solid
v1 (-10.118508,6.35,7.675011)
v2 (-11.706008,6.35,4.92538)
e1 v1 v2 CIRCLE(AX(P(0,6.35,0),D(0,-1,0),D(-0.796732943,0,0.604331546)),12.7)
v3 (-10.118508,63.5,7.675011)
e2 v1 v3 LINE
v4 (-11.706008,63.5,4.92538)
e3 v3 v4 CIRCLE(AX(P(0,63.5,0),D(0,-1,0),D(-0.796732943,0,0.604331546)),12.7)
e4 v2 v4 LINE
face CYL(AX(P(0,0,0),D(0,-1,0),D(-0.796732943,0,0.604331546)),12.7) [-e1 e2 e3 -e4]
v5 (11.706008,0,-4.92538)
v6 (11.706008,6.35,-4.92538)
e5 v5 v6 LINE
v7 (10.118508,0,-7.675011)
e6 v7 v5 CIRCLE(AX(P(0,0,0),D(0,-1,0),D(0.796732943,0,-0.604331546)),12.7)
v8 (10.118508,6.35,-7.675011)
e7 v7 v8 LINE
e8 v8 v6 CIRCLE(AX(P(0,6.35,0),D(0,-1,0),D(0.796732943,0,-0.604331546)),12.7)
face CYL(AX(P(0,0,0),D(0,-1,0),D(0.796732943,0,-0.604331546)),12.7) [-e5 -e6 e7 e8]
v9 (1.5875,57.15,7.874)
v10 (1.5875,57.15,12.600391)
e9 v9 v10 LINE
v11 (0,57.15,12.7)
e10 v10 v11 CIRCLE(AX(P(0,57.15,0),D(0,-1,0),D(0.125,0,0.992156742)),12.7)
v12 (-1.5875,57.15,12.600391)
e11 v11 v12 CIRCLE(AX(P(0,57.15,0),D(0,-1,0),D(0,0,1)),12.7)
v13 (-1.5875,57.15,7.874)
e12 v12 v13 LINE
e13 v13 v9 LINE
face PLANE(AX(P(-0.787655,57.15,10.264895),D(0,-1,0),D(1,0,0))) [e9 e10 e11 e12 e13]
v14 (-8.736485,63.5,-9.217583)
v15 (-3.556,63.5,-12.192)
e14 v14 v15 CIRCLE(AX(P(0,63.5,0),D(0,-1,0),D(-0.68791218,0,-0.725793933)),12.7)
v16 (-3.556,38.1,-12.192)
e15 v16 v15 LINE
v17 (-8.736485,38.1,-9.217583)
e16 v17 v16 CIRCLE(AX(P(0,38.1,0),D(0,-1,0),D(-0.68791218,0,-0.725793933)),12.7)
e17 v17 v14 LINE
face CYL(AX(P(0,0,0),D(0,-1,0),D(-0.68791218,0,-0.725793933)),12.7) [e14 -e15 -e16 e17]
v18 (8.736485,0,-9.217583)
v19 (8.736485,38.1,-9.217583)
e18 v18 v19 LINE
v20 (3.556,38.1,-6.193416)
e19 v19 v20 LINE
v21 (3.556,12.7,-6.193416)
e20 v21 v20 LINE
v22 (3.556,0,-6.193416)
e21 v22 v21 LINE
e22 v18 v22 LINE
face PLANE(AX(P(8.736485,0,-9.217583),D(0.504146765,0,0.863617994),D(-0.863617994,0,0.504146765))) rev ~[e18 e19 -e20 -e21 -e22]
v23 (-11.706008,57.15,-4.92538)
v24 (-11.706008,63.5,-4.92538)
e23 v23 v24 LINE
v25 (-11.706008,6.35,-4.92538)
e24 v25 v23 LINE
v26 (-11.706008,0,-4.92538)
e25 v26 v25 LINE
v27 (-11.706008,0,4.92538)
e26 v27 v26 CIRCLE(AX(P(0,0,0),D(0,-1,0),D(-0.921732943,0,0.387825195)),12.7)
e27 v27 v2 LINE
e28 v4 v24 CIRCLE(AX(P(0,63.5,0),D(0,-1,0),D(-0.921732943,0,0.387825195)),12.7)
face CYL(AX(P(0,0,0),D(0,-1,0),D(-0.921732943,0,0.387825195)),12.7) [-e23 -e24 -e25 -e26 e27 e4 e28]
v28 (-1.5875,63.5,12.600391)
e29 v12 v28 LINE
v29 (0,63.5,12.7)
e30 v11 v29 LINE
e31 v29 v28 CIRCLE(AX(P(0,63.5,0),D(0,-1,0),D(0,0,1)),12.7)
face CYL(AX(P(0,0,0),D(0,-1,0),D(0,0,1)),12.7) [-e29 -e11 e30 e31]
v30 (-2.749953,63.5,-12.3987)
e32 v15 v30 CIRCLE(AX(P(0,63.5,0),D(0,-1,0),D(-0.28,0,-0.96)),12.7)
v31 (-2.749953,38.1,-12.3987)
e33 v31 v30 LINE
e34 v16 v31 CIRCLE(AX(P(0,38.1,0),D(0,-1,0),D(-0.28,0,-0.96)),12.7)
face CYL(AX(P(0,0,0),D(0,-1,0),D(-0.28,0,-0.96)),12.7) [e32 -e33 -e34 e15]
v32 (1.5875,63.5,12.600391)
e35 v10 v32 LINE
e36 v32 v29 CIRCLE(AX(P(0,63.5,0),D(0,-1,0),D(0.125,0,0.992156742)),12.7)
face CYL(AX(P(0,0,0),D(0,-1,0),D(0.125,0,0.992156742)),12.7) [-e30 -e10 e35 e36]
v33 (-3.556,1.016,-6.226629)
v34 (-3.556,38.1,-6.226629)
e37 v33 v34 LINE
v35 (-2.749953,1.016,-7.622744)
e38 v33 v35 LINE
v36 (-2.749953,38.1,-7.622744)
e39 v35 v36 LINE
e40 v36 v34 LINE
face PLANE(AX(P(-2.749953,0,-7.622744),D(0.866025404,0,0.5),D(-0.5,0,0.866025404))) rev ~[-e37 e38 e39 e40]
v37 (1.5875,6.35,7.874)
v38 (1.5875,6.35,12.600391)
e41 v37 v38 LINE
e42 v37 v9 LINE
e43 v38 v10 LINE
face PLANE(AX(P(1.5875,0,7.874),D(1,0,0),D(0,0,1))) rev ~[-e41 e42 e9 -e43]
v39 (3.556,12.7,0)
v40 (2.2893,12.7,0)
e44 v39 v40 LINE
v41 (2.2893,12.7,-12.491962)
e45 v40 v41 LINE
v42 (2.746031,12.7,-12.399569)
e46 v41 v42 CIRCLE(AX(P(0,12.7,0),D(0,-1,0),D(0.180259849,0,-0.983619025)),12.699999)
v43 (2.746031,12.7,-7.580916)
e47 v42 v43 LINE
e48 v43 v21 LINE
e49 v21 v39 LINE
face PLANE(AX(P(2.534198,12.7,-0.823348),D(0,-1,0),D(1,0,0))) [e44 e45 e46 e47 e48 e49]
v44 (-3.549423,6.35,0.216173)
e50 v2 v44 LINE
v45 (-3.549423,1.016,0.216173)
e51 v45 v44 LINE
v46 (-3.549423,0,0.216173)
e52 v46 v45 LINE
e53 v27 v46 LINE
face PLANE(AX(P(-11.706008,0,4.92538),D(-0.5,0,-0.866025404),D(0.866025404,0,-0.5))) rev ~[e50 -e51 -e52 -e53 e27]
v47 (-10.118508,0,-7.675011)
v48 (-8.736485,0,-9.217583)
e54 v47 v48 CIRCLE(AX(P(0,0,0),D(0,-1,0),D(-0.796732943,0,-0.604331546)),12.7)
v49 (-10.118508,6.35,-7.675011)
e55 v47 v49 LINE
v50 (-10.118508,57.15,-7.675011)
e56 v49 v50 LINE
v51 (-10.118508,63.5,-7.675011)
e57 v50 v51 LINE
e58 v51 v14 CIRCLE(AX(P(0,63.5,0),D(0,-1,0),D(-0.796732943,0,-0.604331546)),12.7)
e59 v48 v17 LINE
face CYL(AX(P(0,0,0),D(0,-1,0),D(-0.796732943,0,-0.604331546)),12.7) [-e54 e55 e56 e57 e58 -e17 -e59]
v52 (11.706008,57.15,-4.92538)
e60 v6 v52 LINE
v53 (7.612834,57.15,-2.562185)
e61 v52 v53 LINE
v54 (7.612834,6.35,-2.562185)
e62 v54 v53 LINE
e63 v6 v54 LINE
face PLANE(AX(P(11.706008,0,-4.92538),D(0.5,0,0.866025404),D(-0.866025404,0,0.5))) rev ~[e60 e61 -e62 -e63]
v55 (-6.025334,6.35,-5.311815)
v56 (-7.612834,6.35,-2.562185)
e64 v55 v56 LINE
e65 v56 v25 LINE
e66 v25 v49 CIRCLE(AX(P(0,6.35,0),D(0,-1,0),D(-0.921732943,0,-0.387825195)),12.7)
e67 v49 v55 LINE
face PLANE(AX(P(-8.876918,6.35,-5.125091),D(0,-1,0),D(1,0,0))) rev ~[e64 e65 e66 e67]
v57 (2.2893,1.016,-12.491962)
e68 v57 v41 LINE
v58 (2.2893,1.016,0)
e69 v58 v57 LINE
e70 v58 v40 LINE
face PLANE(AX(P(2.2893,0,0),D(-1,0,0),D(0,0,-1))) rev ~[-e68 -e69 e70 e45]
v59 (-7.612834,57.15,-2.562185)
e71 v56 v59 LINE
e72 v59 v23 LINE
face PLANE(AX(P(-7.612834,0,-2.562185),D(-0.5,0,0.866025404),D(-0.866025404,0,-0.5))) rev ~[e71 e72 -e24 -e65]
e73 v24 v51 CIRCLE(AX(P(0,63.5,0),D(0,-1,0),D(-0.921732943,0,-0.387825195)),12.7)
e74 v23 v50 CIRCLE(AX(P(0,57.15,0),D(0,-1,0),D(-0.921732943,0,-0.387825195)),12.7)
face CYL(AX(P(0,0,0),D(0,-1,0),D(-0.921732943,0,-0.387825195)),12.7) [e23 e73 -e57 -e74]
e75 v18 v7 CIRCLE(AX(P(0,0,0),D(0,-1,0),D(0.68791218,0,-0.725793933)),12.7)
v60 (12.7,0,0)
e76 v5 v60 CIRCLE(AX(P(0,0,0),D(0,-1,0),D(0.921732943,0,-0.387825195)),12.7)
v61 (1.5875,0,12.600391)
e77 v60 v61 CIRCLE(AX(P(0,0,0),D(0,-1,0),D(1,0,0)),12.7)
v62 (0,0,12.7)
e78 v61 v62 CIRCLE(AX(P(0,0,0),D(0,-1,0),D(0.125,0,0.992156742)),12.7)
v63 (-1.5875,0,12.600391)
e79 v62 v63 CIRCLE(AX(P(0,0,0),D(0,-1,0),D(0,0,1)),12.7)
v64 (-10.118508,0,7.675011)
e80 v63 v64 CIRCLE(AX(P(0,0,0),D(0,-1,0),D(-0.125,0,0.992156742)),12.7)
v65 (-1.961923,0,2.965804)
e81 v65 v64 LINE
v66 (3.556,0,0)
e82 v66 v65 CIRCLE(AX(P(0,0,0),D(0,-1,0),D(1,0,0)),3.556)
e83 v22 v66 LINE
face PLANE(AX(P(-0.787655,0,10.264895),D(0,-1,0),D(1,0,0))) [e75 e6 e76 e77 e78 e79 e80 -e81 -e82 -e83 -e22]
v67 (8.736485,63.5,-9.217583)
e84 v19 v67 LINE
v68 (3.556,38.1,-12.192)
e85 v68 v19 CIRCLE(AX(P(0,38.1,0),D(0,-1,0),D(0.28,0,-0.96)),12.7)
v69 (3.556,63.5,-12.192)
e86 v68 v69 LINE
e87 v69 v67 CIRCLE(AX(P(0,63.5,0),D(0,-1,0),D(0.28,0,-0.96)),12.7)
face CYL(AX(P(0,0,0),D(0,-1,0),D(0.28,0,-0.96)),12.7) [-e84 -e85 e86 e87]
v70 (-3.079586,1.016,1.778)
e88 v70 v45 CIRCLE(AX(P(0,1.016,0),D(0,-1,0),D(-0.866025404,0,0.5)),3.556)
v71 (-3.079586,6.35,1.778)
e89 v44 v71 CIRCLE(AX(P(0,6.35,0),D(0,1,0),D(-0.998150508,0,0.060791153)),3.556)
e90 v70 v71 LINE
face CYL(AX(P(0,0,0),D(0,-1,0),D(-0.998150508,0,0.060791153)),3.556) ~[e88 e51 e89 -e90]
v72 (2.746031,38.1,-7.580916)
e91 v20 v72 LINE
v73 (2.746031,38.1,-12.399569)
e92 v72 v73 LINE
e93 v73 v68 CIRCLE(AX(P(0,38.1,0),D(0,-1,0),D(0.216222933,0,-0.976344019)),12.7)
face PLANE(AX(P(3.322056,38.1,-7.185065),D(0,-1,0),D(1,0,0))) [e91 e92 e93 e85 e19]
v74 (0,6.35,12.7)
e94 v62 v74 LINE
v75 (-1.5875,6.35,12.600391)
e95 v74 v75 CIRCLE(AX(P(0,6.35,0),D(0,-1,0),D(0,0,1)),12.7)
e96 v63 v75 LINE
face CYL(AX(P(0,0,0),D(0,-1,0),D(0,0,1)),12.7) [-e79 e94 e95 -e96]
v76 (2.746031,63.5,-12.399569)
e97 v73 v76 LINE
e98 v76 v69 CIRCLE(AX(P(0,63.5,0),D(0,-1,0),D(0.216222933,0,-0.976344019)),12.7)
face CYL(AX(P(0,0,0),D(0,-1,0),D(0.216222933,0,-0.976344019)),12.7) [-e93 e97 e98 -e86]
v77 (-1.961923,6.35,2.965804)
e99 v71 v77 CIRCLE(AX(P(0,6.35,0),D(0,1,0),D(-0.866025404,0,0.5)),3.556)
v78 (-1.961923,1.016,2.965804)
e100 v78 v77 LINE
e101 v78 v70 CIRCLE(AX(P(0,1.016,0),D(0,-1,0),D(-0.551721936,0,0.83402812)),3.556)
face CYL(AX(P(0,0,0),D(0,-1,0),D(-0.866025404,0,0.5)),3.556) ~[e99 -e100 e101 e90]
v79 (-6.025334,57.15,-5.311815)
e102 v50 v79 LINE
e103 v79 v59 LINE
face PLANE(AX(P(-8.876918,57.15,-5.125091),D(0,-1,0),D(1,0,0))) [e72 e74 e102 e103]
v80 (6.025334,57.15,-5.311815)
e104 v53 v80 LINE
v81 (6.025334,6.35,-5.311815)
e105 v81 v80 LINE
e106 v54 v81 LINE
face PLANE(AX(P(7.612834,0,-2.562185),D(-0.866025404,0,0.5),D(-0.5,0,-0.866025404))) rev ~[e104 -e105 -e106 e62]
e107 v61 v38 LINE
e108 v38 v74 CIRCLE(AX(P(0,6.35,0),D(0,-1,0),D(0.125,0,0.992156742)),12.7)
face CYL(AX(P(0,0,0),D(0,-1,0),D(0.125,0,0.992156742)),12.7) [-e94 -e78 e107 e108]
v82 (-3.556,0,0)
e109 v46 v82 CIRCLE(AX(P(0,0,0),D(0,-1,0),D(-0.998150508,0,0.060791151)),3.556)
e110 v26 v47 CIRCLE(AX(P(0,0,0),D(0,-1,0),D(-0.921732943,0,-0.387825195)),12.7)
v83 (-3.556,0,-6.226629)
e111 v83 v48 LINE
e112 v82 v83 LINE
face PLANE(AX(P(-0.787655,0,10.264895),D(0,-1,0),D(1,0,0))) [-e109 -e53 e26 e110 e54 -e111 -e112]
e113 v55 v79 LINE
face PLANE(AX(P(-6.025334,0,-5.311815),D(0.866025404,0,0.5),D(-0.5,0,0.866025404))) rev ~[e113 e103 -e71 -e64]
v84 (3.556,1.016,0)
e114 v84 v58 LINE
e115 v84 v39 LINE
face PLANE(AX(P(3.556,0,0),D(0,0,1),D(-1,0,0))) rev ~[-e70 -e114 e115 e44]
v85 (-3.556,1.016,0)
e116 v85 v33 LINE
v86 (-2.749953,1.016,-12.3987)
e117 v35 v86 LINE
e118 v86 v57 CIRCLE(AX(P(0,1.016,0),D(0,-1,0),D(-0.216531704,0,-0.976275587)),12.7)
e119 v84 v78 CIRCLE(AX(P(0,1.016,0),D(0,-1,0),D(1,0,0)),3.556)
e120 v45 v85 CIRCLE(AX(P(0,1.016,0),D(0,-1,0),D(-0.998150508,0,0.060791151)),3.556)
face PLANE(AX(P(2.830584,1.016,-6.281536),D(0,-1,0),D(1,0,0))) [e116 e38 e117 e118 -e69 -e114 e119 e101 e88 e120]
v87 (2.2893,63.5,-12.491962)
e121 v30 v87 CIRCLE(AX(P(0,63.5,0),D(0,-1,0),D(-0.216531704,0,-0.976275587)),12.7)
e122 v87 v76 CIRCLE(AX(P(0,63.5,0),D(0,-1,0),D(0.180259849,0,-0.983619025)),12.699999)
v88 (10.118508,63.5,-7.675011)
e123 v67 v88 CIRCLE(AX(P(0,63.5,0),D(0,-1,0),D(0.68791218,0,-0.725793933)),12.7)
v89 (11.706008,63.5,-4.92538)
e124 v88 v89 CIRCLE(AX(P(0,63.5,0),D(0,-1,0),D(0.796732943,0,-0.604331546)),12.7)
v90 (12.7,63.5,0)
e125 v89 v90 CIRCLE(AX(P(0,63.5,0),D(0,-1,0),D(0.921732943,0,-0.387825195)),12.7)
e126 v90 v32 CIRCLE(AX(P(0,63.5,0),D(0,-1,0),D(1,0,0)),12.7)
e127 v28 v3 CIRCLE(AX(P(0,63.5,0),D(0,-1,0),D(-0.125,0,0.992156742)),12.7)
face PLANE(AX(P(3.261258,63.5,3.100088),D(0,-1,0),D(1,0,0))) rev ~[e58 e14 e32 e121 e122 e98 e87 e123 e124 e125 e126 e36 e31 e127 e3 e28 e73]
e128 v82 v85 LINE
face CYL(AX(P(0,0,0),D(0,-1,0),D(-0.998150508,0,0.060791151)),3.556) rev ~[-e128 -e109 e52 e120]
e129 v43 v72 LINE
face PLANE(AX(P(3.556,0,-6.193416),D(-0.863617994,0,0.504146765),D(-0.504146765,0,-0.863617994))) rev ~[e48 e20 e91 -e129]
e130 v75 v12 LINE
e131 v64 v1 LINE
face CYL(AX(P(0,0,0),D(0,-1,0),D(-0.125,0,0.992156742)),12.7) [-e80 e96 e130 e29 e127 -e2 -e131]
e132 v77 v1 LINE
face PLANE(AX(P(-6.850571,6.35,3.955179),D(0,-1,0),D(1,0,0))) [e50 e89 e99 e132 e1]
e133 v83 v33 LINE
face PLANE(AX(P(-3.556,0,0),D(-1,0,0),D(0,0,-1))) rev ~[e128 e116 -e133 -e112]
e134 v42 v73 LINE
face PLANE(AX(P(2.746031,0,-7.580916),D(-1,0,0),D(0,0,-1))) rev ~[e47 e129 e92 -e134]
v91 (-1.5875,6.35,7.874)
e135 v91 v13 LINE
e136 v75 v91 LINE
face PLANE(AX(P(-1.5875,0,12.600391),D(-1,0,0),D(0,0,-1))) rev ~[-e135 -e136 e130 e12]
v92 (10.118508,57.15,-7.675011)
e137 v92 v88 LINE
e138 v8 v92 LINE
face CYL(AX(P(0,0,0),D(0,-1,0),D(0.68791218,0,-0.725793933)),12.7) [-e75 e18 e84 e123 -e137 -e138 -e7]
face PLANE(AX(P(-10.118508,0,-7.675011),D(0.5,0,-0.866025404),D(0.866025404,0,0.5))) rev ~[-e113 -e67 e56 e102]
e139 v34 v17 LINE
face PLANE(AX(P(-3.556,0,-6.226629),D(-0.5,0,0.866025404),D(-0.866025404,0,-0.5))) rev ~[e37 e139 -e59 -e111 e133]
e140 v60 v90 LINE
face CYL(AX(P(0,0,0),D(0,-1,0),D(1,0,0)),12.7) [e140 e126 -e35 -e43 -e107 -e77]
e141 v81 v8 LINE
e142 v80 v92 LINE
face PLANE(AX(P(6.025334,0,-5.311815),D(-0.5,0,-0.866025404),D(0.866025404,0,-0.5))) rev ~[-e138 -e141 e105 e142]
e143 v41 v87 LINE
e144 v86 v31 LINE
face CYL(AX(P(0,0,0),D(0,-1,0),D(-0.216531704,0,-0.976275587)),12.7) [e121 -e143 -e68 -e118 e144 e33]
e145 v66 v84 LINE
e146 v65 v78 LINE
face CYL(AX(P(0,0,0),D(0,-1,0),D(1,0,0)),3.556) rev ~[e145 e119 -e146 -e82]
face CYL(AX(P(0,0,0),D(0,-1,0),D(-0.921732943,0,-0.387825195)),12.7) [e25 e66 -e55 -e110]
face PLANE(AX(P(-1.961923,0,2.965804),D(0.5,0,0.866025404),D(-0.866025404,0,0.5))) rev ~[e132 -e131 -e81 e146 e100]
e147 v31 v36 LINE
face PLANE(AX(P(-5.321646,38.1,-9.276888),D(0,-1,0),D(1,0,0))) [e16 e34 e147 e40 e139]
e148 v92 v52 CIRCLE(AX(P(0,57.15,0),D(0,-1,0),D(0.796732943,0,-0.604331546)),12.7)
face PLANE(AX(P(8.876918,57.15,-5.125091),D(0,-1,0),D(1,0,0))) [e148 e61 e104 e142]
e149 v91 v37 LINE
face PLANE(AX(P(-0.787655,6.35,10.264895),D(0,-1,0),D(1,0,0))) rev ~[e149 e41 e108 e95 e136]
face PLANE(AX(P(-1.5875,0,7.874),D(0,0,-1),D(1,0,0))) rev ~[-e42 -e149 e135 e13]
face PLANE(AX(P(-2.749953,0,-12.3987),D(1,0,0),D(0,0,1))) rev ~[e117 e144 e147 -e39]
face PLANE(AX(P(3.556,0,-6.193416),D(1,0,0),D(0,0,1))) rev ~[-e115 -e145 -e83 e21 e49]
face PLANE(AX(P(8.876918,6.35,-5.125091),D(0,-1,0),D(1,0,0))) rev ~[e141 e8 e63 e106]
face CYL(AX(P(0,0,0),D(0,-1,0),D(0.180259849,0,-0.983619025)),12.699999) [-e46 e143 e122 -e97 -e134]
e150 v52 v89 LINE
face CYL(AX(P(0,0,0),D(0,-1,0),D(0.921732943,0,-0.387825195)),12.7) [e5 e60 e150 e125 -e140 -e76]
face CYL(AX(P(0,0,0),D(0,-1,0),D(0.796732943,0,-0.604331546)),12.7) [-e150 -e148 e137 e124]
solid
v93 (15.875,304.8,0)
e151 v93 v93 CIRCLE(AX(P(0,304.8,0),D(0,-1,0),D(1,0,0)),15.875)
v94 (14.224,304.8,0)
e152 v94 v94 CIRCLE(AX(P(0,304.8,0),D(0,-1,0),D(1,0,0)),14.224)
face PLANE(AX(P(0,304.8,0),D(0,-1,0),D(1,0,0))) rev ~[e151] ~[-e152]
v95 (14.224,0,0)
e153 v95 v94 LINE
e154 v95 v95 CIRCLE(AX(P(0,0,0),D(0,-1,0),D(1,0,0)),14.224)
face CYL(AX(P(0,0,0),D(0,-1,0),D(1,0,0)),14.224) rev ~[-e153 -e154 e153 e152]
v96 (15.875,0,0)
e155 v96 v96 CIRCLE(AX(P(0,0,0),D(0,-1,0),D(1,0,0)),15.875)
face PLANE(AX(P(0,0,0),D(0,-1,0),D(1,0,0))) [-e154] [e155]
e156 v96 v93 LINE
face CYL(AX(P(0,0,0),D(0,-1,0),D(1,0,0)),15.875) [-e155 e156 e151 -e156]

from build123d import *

# Parameters (mm, degrees)
F0_R     = 15.875
F0_R_2   = 14.224
F1_DEPTH = 304.8
F3_DEPTH = 63.5
F4_DEPTH = 57.15
F5_DEPTH = 6.35
F6_DEPTH = 1.016
F7_DEPTH = 6.35
F8_DEPTH = 12.7
F9_DEPTH = 38.1


with BuildPart() as f1:
    # F0 (on Front) → F1 (new body)
    with BuildSketch(Plane.XZ):
        Circle(F0_R)
        Circle(F0_R_2, mode=Mode.SUBTRACT)
    extrude(amount=-F1_DEPTH)


with BuildPart() as f3:
    # F2 (on Front) → F3 (new body)
    with BuildSketch(Plane.XZ):
        with BuildLine():
            ThreePointArc((-1.5875, 12.6003906189), (-6.35, 10.9985226281), (-10.1185083736, 7.675010638))
            Line((-10.1185083736, 7.675010638), (-1.961923205, 2.9658039952))
            ThreePointArc((-1.961923205, 2.9658039952), (1.6835285984, 3.1322304287), (3.556, 0))
            Line((3.556, 0), (3.556, -6.1934164615))
            Line((3.556, -6.1934164615), (8.73648468, -9.2175829498))
            ThreePointArc((8.73648468, -9.2175829498), (9.4589942963, -8.4745163226), (10.1185083736, -7.675010638))
            Line((10.1185083736, -7.675010638), (6.0253340294, -5.3118153285))
            Line((6.0253340294, -5.3118153285), (6.8190840294, -3.937))
            Line((6.8190840294, -3.937), (7.6128340294, -2.5621846715))
            Line((7.6128340294, -2.5621846715), (11.7060083736, -4.925379981))
            ThreePointArc((11.7060083736, -4.925379981), (12.4490221774, -2.5123389157), (12.7, 0))
            ThreePointArc((12.7, 0), (9.525, 8.4002604126), (1.5875, 12.6003906189))
            Line((1.5875, 12.6003906189), (1.5875, 7.874))
            Line((1.5875, 7.874), (0, 7.874))
            Line((0, 7.874), (-1.5875, 7.874))
            Line((-1.5875, 7.874), (-1.5875, 12.6003906189))
        make_face()
        with BuildLine():
            Line((2.289300086, 0), (2.9718, 0))
            ThreePointArc((2.9718, 0), (1.5370065953, 2.5434633801), (-1.3819290302, 2.6309442023))
            ThreePointArc((-1.3819290302, 2.6309442023), (-2.0589903878, 2.1429311289), (-2.573654295, 1.4859))
            ThreePointArc((-2.573654295, 1.4859), (-2.88532799, 0.7116724175), (-2.9694290302, -0.1186864547))
            ThreePointArc((-2.9694290302, -0.1186864547), (-2.314837262, -1.8636318549), (-0.7498571067, -2.8756407216))
            Line((-0.7498571067, -2.8756407216), (-0.7498571067, -2.1556231659))
            Line((-0.7498571067, -2.1556231659), (0, -2.1556231659))
            Line((0, -2.1556231659), (0.7676830282, -2.1556231659))
            Line((0.7676830282, -2.1556231659), (0.7676830282, -2.8709332991))
            ThreePointArc((0.7676830282, -2.8709332991), (1.6045060587, -2.5014307002), (2.289300086, -1.8949143401))
            Line((2.289300086, -1.8949143401), (2.289300086, 0))
        make_face()
        with BuildLine():
            ThreePointArc((0.7676830282, -3.4721461329), (0.0091230678, -3.5559882972), (-0.7498571067, -3.4760394589))
            Line((-0.7498571067, -3.4760394589), (-0.7498571067, -5.3360266611))
            Line((-0.7498571067, -5.3360266611), (0, -5.3360266611))
            Line((0, -5.3360266611), (0.7676830282, -5.3360266611))
            Line((0.7676830282, -5.3360266611), (0.7676830282, -3.4721461329))
        make_face()
        with BuildLine():
            Line((-0.7498571067, -2.1556231659), (-0.7498571067, -2.8756407216))
            ThreePointArc((-0.7498571067, -2.8756407216), (0.0092185045, -2.9717857021), (0.7676830282, -2.8709332991))
            Line((0.7676830282, -2.8709332991), (0.7676830282, -2.1556231659))
            Line((0.7676830282, -2.1556231659), (0, -2.1556231659))
            Line((0, -2.1556231659), (-0.7498571067, -2.1556231659))
        make_face()
        with BuildLine():
            Line((3.556, -6.1934164615), (3.556, 0))
            ThreePointArc((3.556, 0), (3.223808858, -1.5007306378), (2.289300086, -2.7210735228))
            Line((2.289300086, -2.7210735228), (2.289300086, -12.49196162))
            ThreePointArc((2.289300086, -12.49196162), (2.5180894599, -12.4478602769), (2.7460312559, -12.3995690385))
            Line((2.7460312559, -12.3995690385), (2.7460312559, -7.5809163515))
            Line((2.7460312559, -7.5809163515), (3.556, -6.1934164615))
        make_face()
        with BuildLine():
            Line((-7.6128340294, -2.5621846715), (-11.7060083736, -4.925379981))
            ThreePointArc((-11.7060083736, -4.925379981), (-10.9985226281, -6.35), (-10.1185083736, -7.675010638))
            Line((-10.1185083736, -7.675010638), (-6.0253340294, -5.3118153285))
            Line((-6.0253340294, -5.3118153285), (-6.8190840294, -3.937))
            Line((-6.8190840294, -3.937), (-7.6128340294, -2.5621846715))
        make_face()
        with BuildLine():
            ThreePointArc((1.5875, 12.6003906189), (0.7953109893, 12.6750731923), (0, 12.7))
            Line((0, 12.7), (0, 7.874))
            Line((0, 7.874), (1.5875, 7.874))
            Line((1.5875, 7.874), (1.5875, 12.6003906189))
        make_face()
        with BuildLine():
            ThreePointArc((0, 12.7), (-0.7953109893, 12.6750731923), (-1.5875, 12.6003906189))
            Line((-1.5875, 12.6003906189), (-1.5875, 7.874))
            Line((-1.5875, 7.874), (0, 7.874))
            Line((0, 7.874), (0, 12.7))
        make_face()
        with BuildLine():
            ThreePointArc((10.1185083736, -7.675010638), (10.9985226281, -6.35), (11.7060083736, -4.925379981))
            Line((11.7060083736, -4.925379981), (7.6128340294, -2.5621846715))
            Line((7.6128340294, -2.5621846715), (6.8190840294, -3.937))
            Line((6.8190840294, -3.937), (6.0253340294, -5.3118153285))
            Line((6.0253340294, -5.3118153285), (10.1185083736, -7.675010638))
        make_face()
        with BuildLine():
            Line((-1.961923205, 2.9658039952), (-10.1185083736, 7.675010638))
            ThreePointArc((-10.1185083736, 7.675010638), (-10.9985226281, 6.35), (-11.7060083736, 4.925379981))
            Line((-11.7060083736, 4.925379981), (-3.549423205, 0.2161733382))
            ThreePointArc((-3.549423205, 0.2161733382), (-3.4052558646, 1.0243868881), (-3.0795863359, 1.778))
            ThreePointArc((-3.0795863359, 1.778), (-2.5897730007, 2.4368446411), (-1.961923205, 2.9658039952))
        make_face()
        with BuildLine():
            ThreePointArc((3.556, 0), (1.6835285984, 3.1322304287), (-1.961923205, 2.9658039952))
            Line((-1.961923205, 2.9658039952), (-1.779904295, 2.8607153285))
            Line((-1.779904295, 2.8607153285), (-1.3819290302, 2.6309442023))
            ThreePointArc((-1.3819290302, 2.6309442023), (1.5370065953, 2.5434633801), (2.9718, 0))
            Line((2.9718, 0), (3.556, 0))
        make_face()
        with BuildLine():
            Line((-1.779904295, 2.8607153285), (-1.961923205, 2.9658039952))
            ThreePointArc((-1.961923205, 2.9658039952), (-2.5897730007, 2.4368446411), (-3.0795863359, 1.778))
            Line((-3.0795863359, 1.778), (-2.573654295, 1.4859))
            ThreePointArc((-2.573654295, 1.4859), (-2.0589903878, 2.1429311289), (-1.3819290302, 2.6309442023))
            Line((-1.3819290302, 2.6309442023), (-1.779904295, 2.8607153285))
        make_face()
        with BuildLine():
            ThreePointArc((-3.0795863359, 1.778), (-3.4052558646, 1.0243868881), (-3.549423205, 0.2161733382))
            Line((-3.549423205, 0.2161733382), (-3.367404295, 0.1110846715))
            Line((-3.367404295, 0.1110846715), (-2.9694290302, -0.1186864547))
            ThreePointArc((-2.9694290302, -0.1186864547), (-2.88532799, 0.7116724175), (-2.573654295, 1.4859))
            Line((-2.573654295, 1.4859), (-3.0795863359, 1.778))
        make_face()
        with BuildLine():
            Line((-3.367404295, 0.1110846715), (-3.549423205, 0.2161733382))
            ThreePointArc((-3.549423205, 0.2161733382), (-3.5543554209, 0.1081366801), (-3.556, 0))
            ThreePointArc((-3.556, 0), (-2.766914154, -2.2336790424), (-0.7498571067, -3.4760394589))
            Line((-0.7498571067, -3.4760394589), (-0.7498571067, -2.8756407216))
            ThreePointArc((-0.7498571067, -2.8756407216), (-2.314837262, -1.8636318549), (-2.9694290302, -0.1186864547))
            Line((-2.9694290302, -0.1186864547), (-3.367404295, 0.1110846715))
        make_face()
        with BuildLine():
            Line((-0.7498571067, -2.8756407216), (-0.7498571067, -3.4760394589))
            ThreePointArc((-0.7498571067, -3.4760394589), (0.0091230678, -3.5559882972), (0.7676830282, -3.4721461329))
            Line((0.7676830282, -3.4721461329), (0.7676830282, -2.8709332991))
            ThreePointArc((0.7676830282, -2.8709332991), (0.0092185045, -2.9717857021), (-0.7498571067, -2.8756407216))
        make_face()
        with BuildLine():
            Line((-3.549423205, 0.2161733382), (-11.7060083736, 4.925379981))
            ThreePointArc((-11.7060083736, 4.925379981), (-12.7, 0), (-11.7060083736, -4.925379981))
            Line((-11.7060083736, -4.925379981), (-7.6128340294, -2.5621846715))
            Line((-7.6128340294, -2.5621846715), (-6.8190840294, -3.937))
            Line((-6.8190840294, -3.937), (-6.0253340294, -5.3118153285))
            Line((-6.0253340294, -5.3118153285), (-10.1185083736, -7.675010638))
            ThreePointArc((-10.1185083736, -7.675010638), (-9.4589942963, -8.4745163226), (-8.73648468, -9.2175829498))
            Line((-8.73648468, -9.2175829498), (-3.556, -6.2266287252))
            Line((-3.556, -6.2266287252), (-3.556, 0))
            ThreePointArc((-3.556, 0), (-3.5543554209, 0.1081366801), (-3.549423205, 0.2161733382))
        make_face()
        with BuildLine():
            ThreePointArc((2.289300086, -1.8949143401), (2.795973644, -1.0070385406), (2.9718, 0))
            Line((2.9718, 0), (2.289300086, 0))
            Line((2.289300086, 0), (2.289300086, -1.8949143401))
        make_face()
        with BuildLine():
            ThreePointArc((2.289300086, -2.7210735228), (3.223808858, -1.5007306378), (3.556, 0))
            Line((3.556, 0), (2.9718, 0))
            ThreePointArc((2.9718, 0), (2.795973644, -1.0070385406), (2.289300086, -1.8949143401))
            Line((2.289300086, -1.8949143401), (2.289300086, -2.7210735228))
        make_face()
        with BuildLine():
            ThreePointArc((0.7676830282, -3.4721461329), (1.5739485241, -3.1887022507), (2.289300086, -2.7210735228))
            Line((2.289300086, -2.7210735228), (2.289300086, -1.8949143401))
            ThreePointArc((2.289300086, -1.8949143401), (1.6045060587, -2.5014307002), (0.7676830282, -2.8709332991))
            Line((0.7676830282, -2.8709332991), (0.7676830282, -3.4721461329))
        make_face()
        with BuildLine():
            ThreePointArc((-0.7498571067, -3.4760394589), (-2.766914154, -2.2336790424), (-3.556, 0))
            Line((-3.556, 0), (-3.556, -6.2266287252))
            Line((-3.556, -6.2266287252), (-2.7499526441, -7.622743699))
            Line((-2.7499526441, -7.622743699), (-2.7499526441, -12.3986999502))
            ThreePointArc((-2.7499526441, -12.3986999502), (-0.2349992119, -12.6978256158), (2.289300086, -12.49196162))
            Line((2.289300086, -12.49196162), (2.289300086, -2.7210735228))
            ThreePointArc((2.289300086, -2.7210735228), (1.5739485241, -3.1887022507), (0.7676830282, -3.4721461329))
            Line((0.7676830282, -3.4721461329), (0.7676830282, -5.3360266611))
            Line((0.7676830282, -5.3360266611), (0, -5.3360266611))
            Line((0, -5.3360266611), (-0.7498571067, -5.3360266611))
            Line((-0.7498571067, -5.3360266611), (-0.7498571067, -3.4760394589))
        make_face()
        with BuildLine():
            Line((-3.556, -6.2266287252), (-8.73648468, -9.2175829498))
            ThreePointArc((-8.73648468, -9.2175829498), (-6.3236132155, -11.0137149001), (-3.556, -12.192))
            Line((-3.556, -12.192), (-3.556, -8.088115357))
            Line((-3.556, -8.088115357), (-3.556, -6.2266287252))
        make_face()
        with BuildLine():
            Line((-3.556, -8.088115357), (-3.556, -12.192))
            ThreePointArc((-3.556, -12.192), (-3.1546696982, -12.3019534666), (-2.7499526441, -12.3986999502))
            Line((-2.7499526441, -12.3986999502), (-2.7499526441, -7.622743699))
            Line((-2.7499526441, -7.622743699), (-3.556, -8.088115357))
        make_face()
        Polygon((-2.7499526441, -7.622743699), (-3.556, -6.2266287252), (-3.556, -8.088115357), align=None)
        Polygon((3.556, -8.0537447611), (3.556, -6.1934164615), (2.7460312559, -7.5809163515), align=None)
        with BuildLine():
            Line((3.556, -12.192), (3.556, -8.0537447611))
            Line((3.556, -8.0537447611), (2.7460312559, -7.5809163515))
            Line((2.7460312559, -7.5809163515), (2.7460312559, -12.3995690385))
            ThreePointArc((2.7460312559, -12.3995690385), (3.1527243321, -12.3024521656), (3.556, -12.192))
        make_face()
        with BuildLine():
            Line((8.73648468, -9.2175829498), (3.556, -6.1934164615))
            Line((3.556, -6.1934164615), (3.556, -8.0537447611))
            Line((3.556, -8.0537447611), (3.556, -12.192))
            ThreePointArc((3.556, -12.192), (6.3236132155, -11.0137149001), (8.73648468, -9.2175829498))
        make_face()
    extrude(amount=-F3_DEPTH)

    # F2 (on Front) → F4 (cut)
    with BuildSketch(Plane.XZ):
        with BuildLine():
            ThreePointArc((0, 12.7), (-0.7953109893, 12.6750731923), (-1.5875, 12.6003906189))
            Line((-1.5875, 12.6003906189), (-1.5875, 7.874))
            Line((-1.5875, 7.874), (0, 7.874))
            Line((0, 7.874), (0, 12.7))
        make_face()
        with BuildLine():
            ThreePointArc((1.5875, 12.6003906189), (0.7953109893, 12.6750731923), (0, 12.7))
            Line((0, 12.7), (0, 7.874))
            Line((0, 7.874), (1.5875, 7.874))
            Line((1.5875, 7.874), (1.5875, 12.6003906189))
        make_face()
        with BuildLine():
            Line((-7.6128340294, -2.5621846715), (-11.7060083736, -4.925379981))
            ThreePointArc((-11.7060083736, -4.925379981), (-10.9985226281, -6.35), (-10.1185083736, -7.675010638))
            Line((-10.1185083736, -7.675010638), (-6.0253340294, -5.3118153285))
            Line((-6.0253340294, -5.3118153285), (-6.8190840294, -3.937))
            Line((-6.8190840294, -3.937), (-7.6128340294, -2.5621846715))
        make_face()
        with BuildLine():
            ThreePointArc((10.1185083736, -7.675010638), (10.9985226281, -6.35), (11.7060083736, -4.925379981))
            Line((11.7060083736, -4.925379981), (7.6128340294, -2.5621846715))
            Line((7.6128340294, -2.5621846715), (6.8190840294, -3.937))
            Line((6.8190840294, -3.937), (6.0253340294, -5.3118153285))
            Line((6.0253340294, -5.3118153285), (10.1185083736, -7.675010638))
        make_face()
    extrude(amount=-F4_DEPTH, mode=Mode.SUBTRACT)

    # F2 (on Front) → F5 (join)
    with BuildSketch(Plane.XZ):
        with BuildLine():
            ThreePointArc((0, 12.7), (-0.7953109893, 12.6750731923), (-1.5875, 12.6003906189))
            Line((-1.5875, 12.6003906189), (-1.5875, 7.874))
            Line((-1.5875, 7.874), (0, 7.874))
            Line((0, 7.874), (0, 12.7))
        make_face()
        with BuildLine():
            ThreePointArc((1.5875, 12.6003906189), (0.7953109893, 12.6750731923), (0, 12.7))
            Line((0, 12.7), (0, 7.874))
            Line((0, 7.874), (1.5875, 7.874))
            Line((1.5875, 7.874), (1.5875, 12.6003906189))
        make_face()
        with BuildLine():
            Line((-7.6128340294, -2.5621846715), (-11.7060083736, -4.925379981))
            ThreePointArc((-11.7060083736, -4.925379981), (-10.9985226281, -6.35), (-10.1185083736, -7.675010638))
            Line((-10.1185083736, -7.675010638), (-6.0253340294, -5.3118153285))
            Line((-6.0253340294, -5.3118153285), (-6.8190840294, -3.937))
            Line((-6.8190840294, -3.937), (-7.6128340294, -2.5621846715))
        make_face()
        with BuildLine():
            ThreePointArc((10.1185083736, -7.675010638), (10.9985226281, -6.35), (11.7060083736, -4.925379981))
            Line((11.7060083736, -4.925379981), (7.6128340294, -2.5621846715))
            Line((7.6128340294, -2.5621846715), (6.8190840294, -3.937))
            Line((6.8190840294, -3.937), (6.0253340294, -5.3118153285))
            Line((6.0253340294, -5.3118153285), (10.1185083736, -7.675010638))
        make_face()
    extrude(amount=-F5_DEPTH)

    # F2 (on Front) → F6 (cut)
    with BuildSketch(Plane.XZ):
        with BuildLine():
            Line((3.556, -6.1934164615), (3.556, 0))
            ThreePointArc((3.556, 0), (3.223808858, -1.5007306378), (2.289300086, -2.7210735228))
            Line((2.289300086, -2.7210735228), (2.289300086, -12.49196162))
            ThreePointArc((2.289300086, -12.49196162), (2.5180894599, -12.4478602769), (2.7460312559, -12.3995690385))
            Line((2.7460312559, -12.3995690385), (2.7460312559, -7.5809163515))
            Line((2.7460312559, -7.5809163515), (3.556, -6.1934164615))
        make_face()
        with BuildLine():
            Line((2.289300086, 0), (2.9718, 0))
            ThreePointArc((2.9718, 0), (1.5370065953, 2.5434633801), (-1.3819290302, 2.6309442023))
            ThreePointArc((-1.3819290302, 2.6309442023), (-2.0589903878, 2.1429311289), (-2.573654295, 1.4859))
            ThreePointArc((-2.573654295, 1.4859), (-2.88532799, 0.7116724175), (-2.9694290302, -0.1186864547))
            ThreePointArc((-2.9694290302, -0.1186864547), (-2.314837262, -1.8636318549), (-0.7498571067, -2.8756407216))
            Line((-0.7498571067, -2.8756407216), (-0.7498571067, -2.1556231659))
            Line((-0.7498571067, -2.1556231659), (0, -2.1556231659))
            Line((0, -2.1556231659), (0.7676830282, -2.1556231659))
            Line((0.7676830282, -2.1556231659), (0.7676830282, -2.8709332991))
            ThreePointArc((0.7676830282, -2.8709332991), (1.6045060587, -2.5014307002), (2.289300086, -1.8949143401))
            Line((2.289300086, -1.8949143401), (2.289300086, 0))
        make_face()
        with BuildLine():
            ThreePointArc((0.7676830282, -3.4721461329), (0.0091230678, -3.5559882972), (-0.7498571067, -3.4760394589))
            Line((-0.7498571067, -3.4760394589), (-0.7498571067, -5.3360266611))
            Line((-0.7498571067, -5.3360266611), (0, -5.3360266611))
            Line((0, -5.3360266611), (0.7676830282, -5.3360266611))
            Line((0.7676830282, -5.3360266611), (0.7676830282, -3.4721461329))
        make_face()
        with BuildLine():
            Line((-0.7498571067, -2.1556231659), (-0.7498571067, -2.8756407216))
            ThreePointArc((-0.7498571067, -2.8756407216), (0.0092185045, -2.9717857021), (0.7676830282, -2.8709332991))
            Line((0.7676830282, -2.8709332991), (0.7676830282, -2.1556231659))
            Line((0.7676830282, -2.1556231659), (0, -2.1556231659))
            Line((0, -2.1556231659), (-0.7498571067, -2.1556231659))
        make_face()
        with BuildLine():
            Line((-3.367404295, 0.1110846715), (-3.549423205, 0.2161733382))
            ThreePointArc((-3.549423205, 0.2161733382), (-3.5543554209, 0.1081366801), (-3.556, 0))
            ThreePointArc((-3.556, 0), (-2.766914154, -2.2336790424), (-0.7498571067, -3.4760394589))
            Line((-0.7498571067, -3.4760394589), (-0.7498571067, -2.8756407216))
            ThreePointArc((-0.7498571067, -2.8756407216), (-2.314837262, -1.8636318549), (-2.9694290302, -0.1186864547))
            Line((-2.9694290302, -0.1186864547), (-3.367404295, 0.1110846715))
        make_face()
        with BuildLine():
            Line((-0.7498571067, -2.8756407216), (-0.7498571067, -3.4760394589))
            ThreePointArc((-0.7498571067, -3.4760394589), (0.0091230678, -3.5559882972), (0.7676830282, -3.4721461329))
            Line((0.7676830282, -3.4721461329), (0.7676830282, -2.8709332991))
            ThreePointArc((0.7676830282, -2.8709332991), (0.0092185045, -2.9717857021), (-0.7498571067, -2.8756407216))
        make_face()
        with BuildLine():
            ThreePointArc((3.556, 0), (1.6835285984, 3.1322304287), (-1.961923205, 2.9658039952))
            Line((-1.961923205, 2.9658039952), (-1.779904295, 2.8607153285))
            Line((-1.779904295, 2.8607153285), (-1.3819290302, 2.6309442023))
            ThreePointArc((-1.3819290302, 2.6309442023), (1.5370065953, 2.5434633801), (2.9718, 0))
            Line((2.9718, 0), (3.556, 0))
        make_face()
        with BuildLine():
            Line((-1.779904295, 2.8607153285), (-1.961923205, 2.9658039952))
            ThreePointArc((-1.961923205, 2.9658039952), (-2.5897730007, 2.4368446411), (-3.0795863359, 1.778))
            Line((-3.0795863359, 1.778), (-2.573654295, 1.4859))
            ThreePointArc((-2.573654295, 1.4859), (-2.0589903878, 2.1429311289), (-1.3819290302, 2.6309442023))
            Line((-1.3819290302, 2.6309442023), (-1.779904295, 2.8607153285))
        make_face()
        with BuildLine():
            ThreePointArc((-3.0795863359, 1.778), (-3.4052558646, 1.0243868881), (-3.549423205, 0.2161733382))
            Line((-3.549423205, 0.2161733382), (-3.367404295, 0.1110846715))
            Line((-3.367404295, 0.1110846715), (-2.9694290302, -0.1186864547))
            ThreePointArc((-2.9694290302, -0.1186864547), (-2.88532799, 0.7116724175), (-2.573654295, 1.4859))
            Line((-2.573654295, 1.4859), (-3.0795863359, 1.778))
        make_face()
        with BuildLine():
            ThreePointArc((2.289300086, -1.8949143401), (2.795973644, -1.0070385406), (2.9718, 0))
            Line((2.9718, 0), (2.289300086, 0))
            Line((2.289300086, 0), (2.289300086, -1.8949143401))
        make_face()
        with BuildLine():
            ThreePointArc((2.289300086, -2.7210735228), (3.223808858, -1.5007306378), (3.556, 0))
            Line((3.556, 0), (2.9718, 0))
            ThreePointArc((2.9718, 0), (2.795973644, -1.0070385406), (2.289300086, -1.8949143401))
            Line((2.289300086, -1.8949143401), (2.289300086, -2.7210735228))
        make_face()
        with BuildLine():
            ThreePointArc((0.7676830282, -3.4721461329), (1.5739485241, -3.1887022507), (2.289300086, -2.7210735228))
            Line((2.289300086, -2.7210735228), (2.289300086, -1.8949143401))
            ThreePointArc((2.289300086, -1.8949143401), (1.6045060587, -2.5014307002), (0.7676830282, -2.8709332991))
            Line((0.7676830282, -2.8709332991), (0.7676830282, -3.4721461329))
        make_face()
        with BuildLine():
            ThreePointArc((-0.7498571067, -3.4760394589), (-2.766914154, -2.2336790424), (-3.556, 0))
            Line((-3.556, 0), (-3.556, -6.2266287252))
            Line((-3.556, -6.2266287252), (-2.7499526441, -7.622743699))
            Line((-2.7499526441, -7.622743699), (-2.7499526441, -12.3986999502))
            ThreePointArc((-2.7499526441, -12.3986999502), (-0.2349992119, -12.6978256158), (2.289300086, -12.49196162))
            Line((2.289300086, -12.49196162), (2.289300086, -2.7210735228))
            ThreePointArc((2.289300086, -2.7210735228), (1.5739485241, -3.1887022507), (0.7676830282, -3.4721461329))
            Line((0.7676830282, -3.4721461329), (0.7676830282, -5.3360266611))
            Line((0.7676830282, -5.3360266611), (0, -5.3360266611))
            Line((0, -5.3360266611), (-0.7498571067, -5.3360266611))
            Line((-0.7498571067, -5.3360266611), (-0.7498571067, -3.4760394589))
        make_face()
    extrude(amount=-F6_DEPTH, mode=Mode.SUBTRACT)

    # F2 (on Front) → F7 (cut)
    with BuildSketch(Plane.XZ):
        with BuildLine():
            Line((-1.961923205, 2.9658039952), (-10.1185083736, 7.675010638))
            ThreePointArc((-10.1185083736, 7.675010638), (-10.9985226281, 6.35), (-11.7060083736, 4.925379981))
            Line((-11.7060083736, 4.925379981), (-3.549423205, 0.2161733382))
            ThreePointArc((-3.549423205, 0.2161733382), (-3.4052558646, 1.0243868881), (-3.0795863359, 1.778))
            ThreePointArc((-3.0795863359, 1.778), (-2.5897730007, 2.4368446411), (-1.961923205, 2.9658039952))
        make_face()
    extrude(amount=-F7_DEPTH, mode=Mode.SUBTRACT)

    # F2 (on Front) → F8 (cut)
    with BuildSketch(Plane.XZ):
        with BuildLine():
            ThreePointArc((2.289300086, -1.8949143401), (2.795973644, -1.0070385406), (2.9718, 0))
            Line((2.9718, 0), (2.289300086, 0))
            Line((2.289300086, 0), (2.289300086, -1.8949143401))
        make_face()
        with BuildLine():
            ThreePointArc((2.289300086, -2.7210735228), (3.223808858, -1.5007306378), (3.556, 0))
            Line((3.556, 0), (2.9718, 0))
            ThreePointArc((2.9718, 0), (2.795973644, -1.0070385406), (2.289300086, -1.8949143401))
            Line((2.289300086, -1.8949143401), (2.289300086, -2.7210735228))
        make_face()
        with BuildLine():
            Line((3.556, -6.1934164615), (3.556, 0))
            ThreePointArc((3.556, 0), (3.223808858, -1.5007306378), (2.289300086, -2.7210735228))
            Line((2.289300086, -2.7210735228), (2.289300086, -12.49196162))
            ThreePointArc((2.289300086, -12.49196162), (2.5180894599, -12.4478602769), (2.7460312559, -12.3995690385))
            Line((2.7460312559, -12.3995690385), (2.7460312559, -7.5809163515))
            Line((2.7460312559, -7.5809163515), (3.556, -6.1934164615))
        make_face()
    extrude(amount=-F8_DEPTH, mode=Mode.SUBTRACT)

    # F2 (on Front) → F9 (cut)
    with BuildSketch(Plane.XZ):
        with BuildLine():
            Line((-3.556, -6.2266287252), (-8.73648468, -9.2175829498))
            ThreePointArc((-8.73648468, -9.2175829498), (-6.3236132155, -11.0137149001), (-3.556, -12.192))
            Line((-3.556, -12.192), (-3.556, -8.088115357))
            Line((-3.556, -8.088115357), (-3.556, -6.2266287252))
        make_face()
        Polygon((-2.7499526441, -7.622743699), (-3.556, -6.2266287252), (-3.556, -8.088115357), align=None)
        with BuildLine():
            Line((-3.556, -8.088115357), (-3.556, -12.192))
            ThreePointArc((-3.556, -12.192), (-3.1546696982, -12.3019534666), (-2.7499526441, -12.3986999502))
            Line((-2.7499526441, -12.3986999502), (-2.7499526441, -7.622743699))
            Line((-2.7499526441, -7.622743699), (-3.556, -8.088115357))
        make_face()
        Polygon((3.556, -8.0537447611), (3.556, -6.1934164615), (2.7460312559, -7.5809163515), align=None)
        with BuildLine():
            Line((3.556, -12.192), (3.556, -8.0537447611))
            Line((3.556, -8.0537447611), (2.7460312559, -7.5809163515))
            Line((2.7460312559, -7.5809163515), (2.7460312559, -12.3995690385))
            ThreePointArc((2.7460312559, -12.3995690385), (3.1527243321, -12.3024521656), (3.556, -12.192))
        make_face()
        with BuildLine():
            Line((8.73648468, -9.2175829498), (3.556, -6.1934164615))
            Line((3.556, -6.1934164615), (3.556, -8.0537447611))
            Line((3.556, -8.0537447611), (3.556, -12.192))
            ThreePointArc((3.556, -12.192), (6.3236132155, -11.0137149001), (8.73648468, -9.2175829498))
        make_face()
    extrude(amount=-F9_DEPTH, mode=Mode.SUBTRACT)


solid = Compound([f1.part, f3.part])
